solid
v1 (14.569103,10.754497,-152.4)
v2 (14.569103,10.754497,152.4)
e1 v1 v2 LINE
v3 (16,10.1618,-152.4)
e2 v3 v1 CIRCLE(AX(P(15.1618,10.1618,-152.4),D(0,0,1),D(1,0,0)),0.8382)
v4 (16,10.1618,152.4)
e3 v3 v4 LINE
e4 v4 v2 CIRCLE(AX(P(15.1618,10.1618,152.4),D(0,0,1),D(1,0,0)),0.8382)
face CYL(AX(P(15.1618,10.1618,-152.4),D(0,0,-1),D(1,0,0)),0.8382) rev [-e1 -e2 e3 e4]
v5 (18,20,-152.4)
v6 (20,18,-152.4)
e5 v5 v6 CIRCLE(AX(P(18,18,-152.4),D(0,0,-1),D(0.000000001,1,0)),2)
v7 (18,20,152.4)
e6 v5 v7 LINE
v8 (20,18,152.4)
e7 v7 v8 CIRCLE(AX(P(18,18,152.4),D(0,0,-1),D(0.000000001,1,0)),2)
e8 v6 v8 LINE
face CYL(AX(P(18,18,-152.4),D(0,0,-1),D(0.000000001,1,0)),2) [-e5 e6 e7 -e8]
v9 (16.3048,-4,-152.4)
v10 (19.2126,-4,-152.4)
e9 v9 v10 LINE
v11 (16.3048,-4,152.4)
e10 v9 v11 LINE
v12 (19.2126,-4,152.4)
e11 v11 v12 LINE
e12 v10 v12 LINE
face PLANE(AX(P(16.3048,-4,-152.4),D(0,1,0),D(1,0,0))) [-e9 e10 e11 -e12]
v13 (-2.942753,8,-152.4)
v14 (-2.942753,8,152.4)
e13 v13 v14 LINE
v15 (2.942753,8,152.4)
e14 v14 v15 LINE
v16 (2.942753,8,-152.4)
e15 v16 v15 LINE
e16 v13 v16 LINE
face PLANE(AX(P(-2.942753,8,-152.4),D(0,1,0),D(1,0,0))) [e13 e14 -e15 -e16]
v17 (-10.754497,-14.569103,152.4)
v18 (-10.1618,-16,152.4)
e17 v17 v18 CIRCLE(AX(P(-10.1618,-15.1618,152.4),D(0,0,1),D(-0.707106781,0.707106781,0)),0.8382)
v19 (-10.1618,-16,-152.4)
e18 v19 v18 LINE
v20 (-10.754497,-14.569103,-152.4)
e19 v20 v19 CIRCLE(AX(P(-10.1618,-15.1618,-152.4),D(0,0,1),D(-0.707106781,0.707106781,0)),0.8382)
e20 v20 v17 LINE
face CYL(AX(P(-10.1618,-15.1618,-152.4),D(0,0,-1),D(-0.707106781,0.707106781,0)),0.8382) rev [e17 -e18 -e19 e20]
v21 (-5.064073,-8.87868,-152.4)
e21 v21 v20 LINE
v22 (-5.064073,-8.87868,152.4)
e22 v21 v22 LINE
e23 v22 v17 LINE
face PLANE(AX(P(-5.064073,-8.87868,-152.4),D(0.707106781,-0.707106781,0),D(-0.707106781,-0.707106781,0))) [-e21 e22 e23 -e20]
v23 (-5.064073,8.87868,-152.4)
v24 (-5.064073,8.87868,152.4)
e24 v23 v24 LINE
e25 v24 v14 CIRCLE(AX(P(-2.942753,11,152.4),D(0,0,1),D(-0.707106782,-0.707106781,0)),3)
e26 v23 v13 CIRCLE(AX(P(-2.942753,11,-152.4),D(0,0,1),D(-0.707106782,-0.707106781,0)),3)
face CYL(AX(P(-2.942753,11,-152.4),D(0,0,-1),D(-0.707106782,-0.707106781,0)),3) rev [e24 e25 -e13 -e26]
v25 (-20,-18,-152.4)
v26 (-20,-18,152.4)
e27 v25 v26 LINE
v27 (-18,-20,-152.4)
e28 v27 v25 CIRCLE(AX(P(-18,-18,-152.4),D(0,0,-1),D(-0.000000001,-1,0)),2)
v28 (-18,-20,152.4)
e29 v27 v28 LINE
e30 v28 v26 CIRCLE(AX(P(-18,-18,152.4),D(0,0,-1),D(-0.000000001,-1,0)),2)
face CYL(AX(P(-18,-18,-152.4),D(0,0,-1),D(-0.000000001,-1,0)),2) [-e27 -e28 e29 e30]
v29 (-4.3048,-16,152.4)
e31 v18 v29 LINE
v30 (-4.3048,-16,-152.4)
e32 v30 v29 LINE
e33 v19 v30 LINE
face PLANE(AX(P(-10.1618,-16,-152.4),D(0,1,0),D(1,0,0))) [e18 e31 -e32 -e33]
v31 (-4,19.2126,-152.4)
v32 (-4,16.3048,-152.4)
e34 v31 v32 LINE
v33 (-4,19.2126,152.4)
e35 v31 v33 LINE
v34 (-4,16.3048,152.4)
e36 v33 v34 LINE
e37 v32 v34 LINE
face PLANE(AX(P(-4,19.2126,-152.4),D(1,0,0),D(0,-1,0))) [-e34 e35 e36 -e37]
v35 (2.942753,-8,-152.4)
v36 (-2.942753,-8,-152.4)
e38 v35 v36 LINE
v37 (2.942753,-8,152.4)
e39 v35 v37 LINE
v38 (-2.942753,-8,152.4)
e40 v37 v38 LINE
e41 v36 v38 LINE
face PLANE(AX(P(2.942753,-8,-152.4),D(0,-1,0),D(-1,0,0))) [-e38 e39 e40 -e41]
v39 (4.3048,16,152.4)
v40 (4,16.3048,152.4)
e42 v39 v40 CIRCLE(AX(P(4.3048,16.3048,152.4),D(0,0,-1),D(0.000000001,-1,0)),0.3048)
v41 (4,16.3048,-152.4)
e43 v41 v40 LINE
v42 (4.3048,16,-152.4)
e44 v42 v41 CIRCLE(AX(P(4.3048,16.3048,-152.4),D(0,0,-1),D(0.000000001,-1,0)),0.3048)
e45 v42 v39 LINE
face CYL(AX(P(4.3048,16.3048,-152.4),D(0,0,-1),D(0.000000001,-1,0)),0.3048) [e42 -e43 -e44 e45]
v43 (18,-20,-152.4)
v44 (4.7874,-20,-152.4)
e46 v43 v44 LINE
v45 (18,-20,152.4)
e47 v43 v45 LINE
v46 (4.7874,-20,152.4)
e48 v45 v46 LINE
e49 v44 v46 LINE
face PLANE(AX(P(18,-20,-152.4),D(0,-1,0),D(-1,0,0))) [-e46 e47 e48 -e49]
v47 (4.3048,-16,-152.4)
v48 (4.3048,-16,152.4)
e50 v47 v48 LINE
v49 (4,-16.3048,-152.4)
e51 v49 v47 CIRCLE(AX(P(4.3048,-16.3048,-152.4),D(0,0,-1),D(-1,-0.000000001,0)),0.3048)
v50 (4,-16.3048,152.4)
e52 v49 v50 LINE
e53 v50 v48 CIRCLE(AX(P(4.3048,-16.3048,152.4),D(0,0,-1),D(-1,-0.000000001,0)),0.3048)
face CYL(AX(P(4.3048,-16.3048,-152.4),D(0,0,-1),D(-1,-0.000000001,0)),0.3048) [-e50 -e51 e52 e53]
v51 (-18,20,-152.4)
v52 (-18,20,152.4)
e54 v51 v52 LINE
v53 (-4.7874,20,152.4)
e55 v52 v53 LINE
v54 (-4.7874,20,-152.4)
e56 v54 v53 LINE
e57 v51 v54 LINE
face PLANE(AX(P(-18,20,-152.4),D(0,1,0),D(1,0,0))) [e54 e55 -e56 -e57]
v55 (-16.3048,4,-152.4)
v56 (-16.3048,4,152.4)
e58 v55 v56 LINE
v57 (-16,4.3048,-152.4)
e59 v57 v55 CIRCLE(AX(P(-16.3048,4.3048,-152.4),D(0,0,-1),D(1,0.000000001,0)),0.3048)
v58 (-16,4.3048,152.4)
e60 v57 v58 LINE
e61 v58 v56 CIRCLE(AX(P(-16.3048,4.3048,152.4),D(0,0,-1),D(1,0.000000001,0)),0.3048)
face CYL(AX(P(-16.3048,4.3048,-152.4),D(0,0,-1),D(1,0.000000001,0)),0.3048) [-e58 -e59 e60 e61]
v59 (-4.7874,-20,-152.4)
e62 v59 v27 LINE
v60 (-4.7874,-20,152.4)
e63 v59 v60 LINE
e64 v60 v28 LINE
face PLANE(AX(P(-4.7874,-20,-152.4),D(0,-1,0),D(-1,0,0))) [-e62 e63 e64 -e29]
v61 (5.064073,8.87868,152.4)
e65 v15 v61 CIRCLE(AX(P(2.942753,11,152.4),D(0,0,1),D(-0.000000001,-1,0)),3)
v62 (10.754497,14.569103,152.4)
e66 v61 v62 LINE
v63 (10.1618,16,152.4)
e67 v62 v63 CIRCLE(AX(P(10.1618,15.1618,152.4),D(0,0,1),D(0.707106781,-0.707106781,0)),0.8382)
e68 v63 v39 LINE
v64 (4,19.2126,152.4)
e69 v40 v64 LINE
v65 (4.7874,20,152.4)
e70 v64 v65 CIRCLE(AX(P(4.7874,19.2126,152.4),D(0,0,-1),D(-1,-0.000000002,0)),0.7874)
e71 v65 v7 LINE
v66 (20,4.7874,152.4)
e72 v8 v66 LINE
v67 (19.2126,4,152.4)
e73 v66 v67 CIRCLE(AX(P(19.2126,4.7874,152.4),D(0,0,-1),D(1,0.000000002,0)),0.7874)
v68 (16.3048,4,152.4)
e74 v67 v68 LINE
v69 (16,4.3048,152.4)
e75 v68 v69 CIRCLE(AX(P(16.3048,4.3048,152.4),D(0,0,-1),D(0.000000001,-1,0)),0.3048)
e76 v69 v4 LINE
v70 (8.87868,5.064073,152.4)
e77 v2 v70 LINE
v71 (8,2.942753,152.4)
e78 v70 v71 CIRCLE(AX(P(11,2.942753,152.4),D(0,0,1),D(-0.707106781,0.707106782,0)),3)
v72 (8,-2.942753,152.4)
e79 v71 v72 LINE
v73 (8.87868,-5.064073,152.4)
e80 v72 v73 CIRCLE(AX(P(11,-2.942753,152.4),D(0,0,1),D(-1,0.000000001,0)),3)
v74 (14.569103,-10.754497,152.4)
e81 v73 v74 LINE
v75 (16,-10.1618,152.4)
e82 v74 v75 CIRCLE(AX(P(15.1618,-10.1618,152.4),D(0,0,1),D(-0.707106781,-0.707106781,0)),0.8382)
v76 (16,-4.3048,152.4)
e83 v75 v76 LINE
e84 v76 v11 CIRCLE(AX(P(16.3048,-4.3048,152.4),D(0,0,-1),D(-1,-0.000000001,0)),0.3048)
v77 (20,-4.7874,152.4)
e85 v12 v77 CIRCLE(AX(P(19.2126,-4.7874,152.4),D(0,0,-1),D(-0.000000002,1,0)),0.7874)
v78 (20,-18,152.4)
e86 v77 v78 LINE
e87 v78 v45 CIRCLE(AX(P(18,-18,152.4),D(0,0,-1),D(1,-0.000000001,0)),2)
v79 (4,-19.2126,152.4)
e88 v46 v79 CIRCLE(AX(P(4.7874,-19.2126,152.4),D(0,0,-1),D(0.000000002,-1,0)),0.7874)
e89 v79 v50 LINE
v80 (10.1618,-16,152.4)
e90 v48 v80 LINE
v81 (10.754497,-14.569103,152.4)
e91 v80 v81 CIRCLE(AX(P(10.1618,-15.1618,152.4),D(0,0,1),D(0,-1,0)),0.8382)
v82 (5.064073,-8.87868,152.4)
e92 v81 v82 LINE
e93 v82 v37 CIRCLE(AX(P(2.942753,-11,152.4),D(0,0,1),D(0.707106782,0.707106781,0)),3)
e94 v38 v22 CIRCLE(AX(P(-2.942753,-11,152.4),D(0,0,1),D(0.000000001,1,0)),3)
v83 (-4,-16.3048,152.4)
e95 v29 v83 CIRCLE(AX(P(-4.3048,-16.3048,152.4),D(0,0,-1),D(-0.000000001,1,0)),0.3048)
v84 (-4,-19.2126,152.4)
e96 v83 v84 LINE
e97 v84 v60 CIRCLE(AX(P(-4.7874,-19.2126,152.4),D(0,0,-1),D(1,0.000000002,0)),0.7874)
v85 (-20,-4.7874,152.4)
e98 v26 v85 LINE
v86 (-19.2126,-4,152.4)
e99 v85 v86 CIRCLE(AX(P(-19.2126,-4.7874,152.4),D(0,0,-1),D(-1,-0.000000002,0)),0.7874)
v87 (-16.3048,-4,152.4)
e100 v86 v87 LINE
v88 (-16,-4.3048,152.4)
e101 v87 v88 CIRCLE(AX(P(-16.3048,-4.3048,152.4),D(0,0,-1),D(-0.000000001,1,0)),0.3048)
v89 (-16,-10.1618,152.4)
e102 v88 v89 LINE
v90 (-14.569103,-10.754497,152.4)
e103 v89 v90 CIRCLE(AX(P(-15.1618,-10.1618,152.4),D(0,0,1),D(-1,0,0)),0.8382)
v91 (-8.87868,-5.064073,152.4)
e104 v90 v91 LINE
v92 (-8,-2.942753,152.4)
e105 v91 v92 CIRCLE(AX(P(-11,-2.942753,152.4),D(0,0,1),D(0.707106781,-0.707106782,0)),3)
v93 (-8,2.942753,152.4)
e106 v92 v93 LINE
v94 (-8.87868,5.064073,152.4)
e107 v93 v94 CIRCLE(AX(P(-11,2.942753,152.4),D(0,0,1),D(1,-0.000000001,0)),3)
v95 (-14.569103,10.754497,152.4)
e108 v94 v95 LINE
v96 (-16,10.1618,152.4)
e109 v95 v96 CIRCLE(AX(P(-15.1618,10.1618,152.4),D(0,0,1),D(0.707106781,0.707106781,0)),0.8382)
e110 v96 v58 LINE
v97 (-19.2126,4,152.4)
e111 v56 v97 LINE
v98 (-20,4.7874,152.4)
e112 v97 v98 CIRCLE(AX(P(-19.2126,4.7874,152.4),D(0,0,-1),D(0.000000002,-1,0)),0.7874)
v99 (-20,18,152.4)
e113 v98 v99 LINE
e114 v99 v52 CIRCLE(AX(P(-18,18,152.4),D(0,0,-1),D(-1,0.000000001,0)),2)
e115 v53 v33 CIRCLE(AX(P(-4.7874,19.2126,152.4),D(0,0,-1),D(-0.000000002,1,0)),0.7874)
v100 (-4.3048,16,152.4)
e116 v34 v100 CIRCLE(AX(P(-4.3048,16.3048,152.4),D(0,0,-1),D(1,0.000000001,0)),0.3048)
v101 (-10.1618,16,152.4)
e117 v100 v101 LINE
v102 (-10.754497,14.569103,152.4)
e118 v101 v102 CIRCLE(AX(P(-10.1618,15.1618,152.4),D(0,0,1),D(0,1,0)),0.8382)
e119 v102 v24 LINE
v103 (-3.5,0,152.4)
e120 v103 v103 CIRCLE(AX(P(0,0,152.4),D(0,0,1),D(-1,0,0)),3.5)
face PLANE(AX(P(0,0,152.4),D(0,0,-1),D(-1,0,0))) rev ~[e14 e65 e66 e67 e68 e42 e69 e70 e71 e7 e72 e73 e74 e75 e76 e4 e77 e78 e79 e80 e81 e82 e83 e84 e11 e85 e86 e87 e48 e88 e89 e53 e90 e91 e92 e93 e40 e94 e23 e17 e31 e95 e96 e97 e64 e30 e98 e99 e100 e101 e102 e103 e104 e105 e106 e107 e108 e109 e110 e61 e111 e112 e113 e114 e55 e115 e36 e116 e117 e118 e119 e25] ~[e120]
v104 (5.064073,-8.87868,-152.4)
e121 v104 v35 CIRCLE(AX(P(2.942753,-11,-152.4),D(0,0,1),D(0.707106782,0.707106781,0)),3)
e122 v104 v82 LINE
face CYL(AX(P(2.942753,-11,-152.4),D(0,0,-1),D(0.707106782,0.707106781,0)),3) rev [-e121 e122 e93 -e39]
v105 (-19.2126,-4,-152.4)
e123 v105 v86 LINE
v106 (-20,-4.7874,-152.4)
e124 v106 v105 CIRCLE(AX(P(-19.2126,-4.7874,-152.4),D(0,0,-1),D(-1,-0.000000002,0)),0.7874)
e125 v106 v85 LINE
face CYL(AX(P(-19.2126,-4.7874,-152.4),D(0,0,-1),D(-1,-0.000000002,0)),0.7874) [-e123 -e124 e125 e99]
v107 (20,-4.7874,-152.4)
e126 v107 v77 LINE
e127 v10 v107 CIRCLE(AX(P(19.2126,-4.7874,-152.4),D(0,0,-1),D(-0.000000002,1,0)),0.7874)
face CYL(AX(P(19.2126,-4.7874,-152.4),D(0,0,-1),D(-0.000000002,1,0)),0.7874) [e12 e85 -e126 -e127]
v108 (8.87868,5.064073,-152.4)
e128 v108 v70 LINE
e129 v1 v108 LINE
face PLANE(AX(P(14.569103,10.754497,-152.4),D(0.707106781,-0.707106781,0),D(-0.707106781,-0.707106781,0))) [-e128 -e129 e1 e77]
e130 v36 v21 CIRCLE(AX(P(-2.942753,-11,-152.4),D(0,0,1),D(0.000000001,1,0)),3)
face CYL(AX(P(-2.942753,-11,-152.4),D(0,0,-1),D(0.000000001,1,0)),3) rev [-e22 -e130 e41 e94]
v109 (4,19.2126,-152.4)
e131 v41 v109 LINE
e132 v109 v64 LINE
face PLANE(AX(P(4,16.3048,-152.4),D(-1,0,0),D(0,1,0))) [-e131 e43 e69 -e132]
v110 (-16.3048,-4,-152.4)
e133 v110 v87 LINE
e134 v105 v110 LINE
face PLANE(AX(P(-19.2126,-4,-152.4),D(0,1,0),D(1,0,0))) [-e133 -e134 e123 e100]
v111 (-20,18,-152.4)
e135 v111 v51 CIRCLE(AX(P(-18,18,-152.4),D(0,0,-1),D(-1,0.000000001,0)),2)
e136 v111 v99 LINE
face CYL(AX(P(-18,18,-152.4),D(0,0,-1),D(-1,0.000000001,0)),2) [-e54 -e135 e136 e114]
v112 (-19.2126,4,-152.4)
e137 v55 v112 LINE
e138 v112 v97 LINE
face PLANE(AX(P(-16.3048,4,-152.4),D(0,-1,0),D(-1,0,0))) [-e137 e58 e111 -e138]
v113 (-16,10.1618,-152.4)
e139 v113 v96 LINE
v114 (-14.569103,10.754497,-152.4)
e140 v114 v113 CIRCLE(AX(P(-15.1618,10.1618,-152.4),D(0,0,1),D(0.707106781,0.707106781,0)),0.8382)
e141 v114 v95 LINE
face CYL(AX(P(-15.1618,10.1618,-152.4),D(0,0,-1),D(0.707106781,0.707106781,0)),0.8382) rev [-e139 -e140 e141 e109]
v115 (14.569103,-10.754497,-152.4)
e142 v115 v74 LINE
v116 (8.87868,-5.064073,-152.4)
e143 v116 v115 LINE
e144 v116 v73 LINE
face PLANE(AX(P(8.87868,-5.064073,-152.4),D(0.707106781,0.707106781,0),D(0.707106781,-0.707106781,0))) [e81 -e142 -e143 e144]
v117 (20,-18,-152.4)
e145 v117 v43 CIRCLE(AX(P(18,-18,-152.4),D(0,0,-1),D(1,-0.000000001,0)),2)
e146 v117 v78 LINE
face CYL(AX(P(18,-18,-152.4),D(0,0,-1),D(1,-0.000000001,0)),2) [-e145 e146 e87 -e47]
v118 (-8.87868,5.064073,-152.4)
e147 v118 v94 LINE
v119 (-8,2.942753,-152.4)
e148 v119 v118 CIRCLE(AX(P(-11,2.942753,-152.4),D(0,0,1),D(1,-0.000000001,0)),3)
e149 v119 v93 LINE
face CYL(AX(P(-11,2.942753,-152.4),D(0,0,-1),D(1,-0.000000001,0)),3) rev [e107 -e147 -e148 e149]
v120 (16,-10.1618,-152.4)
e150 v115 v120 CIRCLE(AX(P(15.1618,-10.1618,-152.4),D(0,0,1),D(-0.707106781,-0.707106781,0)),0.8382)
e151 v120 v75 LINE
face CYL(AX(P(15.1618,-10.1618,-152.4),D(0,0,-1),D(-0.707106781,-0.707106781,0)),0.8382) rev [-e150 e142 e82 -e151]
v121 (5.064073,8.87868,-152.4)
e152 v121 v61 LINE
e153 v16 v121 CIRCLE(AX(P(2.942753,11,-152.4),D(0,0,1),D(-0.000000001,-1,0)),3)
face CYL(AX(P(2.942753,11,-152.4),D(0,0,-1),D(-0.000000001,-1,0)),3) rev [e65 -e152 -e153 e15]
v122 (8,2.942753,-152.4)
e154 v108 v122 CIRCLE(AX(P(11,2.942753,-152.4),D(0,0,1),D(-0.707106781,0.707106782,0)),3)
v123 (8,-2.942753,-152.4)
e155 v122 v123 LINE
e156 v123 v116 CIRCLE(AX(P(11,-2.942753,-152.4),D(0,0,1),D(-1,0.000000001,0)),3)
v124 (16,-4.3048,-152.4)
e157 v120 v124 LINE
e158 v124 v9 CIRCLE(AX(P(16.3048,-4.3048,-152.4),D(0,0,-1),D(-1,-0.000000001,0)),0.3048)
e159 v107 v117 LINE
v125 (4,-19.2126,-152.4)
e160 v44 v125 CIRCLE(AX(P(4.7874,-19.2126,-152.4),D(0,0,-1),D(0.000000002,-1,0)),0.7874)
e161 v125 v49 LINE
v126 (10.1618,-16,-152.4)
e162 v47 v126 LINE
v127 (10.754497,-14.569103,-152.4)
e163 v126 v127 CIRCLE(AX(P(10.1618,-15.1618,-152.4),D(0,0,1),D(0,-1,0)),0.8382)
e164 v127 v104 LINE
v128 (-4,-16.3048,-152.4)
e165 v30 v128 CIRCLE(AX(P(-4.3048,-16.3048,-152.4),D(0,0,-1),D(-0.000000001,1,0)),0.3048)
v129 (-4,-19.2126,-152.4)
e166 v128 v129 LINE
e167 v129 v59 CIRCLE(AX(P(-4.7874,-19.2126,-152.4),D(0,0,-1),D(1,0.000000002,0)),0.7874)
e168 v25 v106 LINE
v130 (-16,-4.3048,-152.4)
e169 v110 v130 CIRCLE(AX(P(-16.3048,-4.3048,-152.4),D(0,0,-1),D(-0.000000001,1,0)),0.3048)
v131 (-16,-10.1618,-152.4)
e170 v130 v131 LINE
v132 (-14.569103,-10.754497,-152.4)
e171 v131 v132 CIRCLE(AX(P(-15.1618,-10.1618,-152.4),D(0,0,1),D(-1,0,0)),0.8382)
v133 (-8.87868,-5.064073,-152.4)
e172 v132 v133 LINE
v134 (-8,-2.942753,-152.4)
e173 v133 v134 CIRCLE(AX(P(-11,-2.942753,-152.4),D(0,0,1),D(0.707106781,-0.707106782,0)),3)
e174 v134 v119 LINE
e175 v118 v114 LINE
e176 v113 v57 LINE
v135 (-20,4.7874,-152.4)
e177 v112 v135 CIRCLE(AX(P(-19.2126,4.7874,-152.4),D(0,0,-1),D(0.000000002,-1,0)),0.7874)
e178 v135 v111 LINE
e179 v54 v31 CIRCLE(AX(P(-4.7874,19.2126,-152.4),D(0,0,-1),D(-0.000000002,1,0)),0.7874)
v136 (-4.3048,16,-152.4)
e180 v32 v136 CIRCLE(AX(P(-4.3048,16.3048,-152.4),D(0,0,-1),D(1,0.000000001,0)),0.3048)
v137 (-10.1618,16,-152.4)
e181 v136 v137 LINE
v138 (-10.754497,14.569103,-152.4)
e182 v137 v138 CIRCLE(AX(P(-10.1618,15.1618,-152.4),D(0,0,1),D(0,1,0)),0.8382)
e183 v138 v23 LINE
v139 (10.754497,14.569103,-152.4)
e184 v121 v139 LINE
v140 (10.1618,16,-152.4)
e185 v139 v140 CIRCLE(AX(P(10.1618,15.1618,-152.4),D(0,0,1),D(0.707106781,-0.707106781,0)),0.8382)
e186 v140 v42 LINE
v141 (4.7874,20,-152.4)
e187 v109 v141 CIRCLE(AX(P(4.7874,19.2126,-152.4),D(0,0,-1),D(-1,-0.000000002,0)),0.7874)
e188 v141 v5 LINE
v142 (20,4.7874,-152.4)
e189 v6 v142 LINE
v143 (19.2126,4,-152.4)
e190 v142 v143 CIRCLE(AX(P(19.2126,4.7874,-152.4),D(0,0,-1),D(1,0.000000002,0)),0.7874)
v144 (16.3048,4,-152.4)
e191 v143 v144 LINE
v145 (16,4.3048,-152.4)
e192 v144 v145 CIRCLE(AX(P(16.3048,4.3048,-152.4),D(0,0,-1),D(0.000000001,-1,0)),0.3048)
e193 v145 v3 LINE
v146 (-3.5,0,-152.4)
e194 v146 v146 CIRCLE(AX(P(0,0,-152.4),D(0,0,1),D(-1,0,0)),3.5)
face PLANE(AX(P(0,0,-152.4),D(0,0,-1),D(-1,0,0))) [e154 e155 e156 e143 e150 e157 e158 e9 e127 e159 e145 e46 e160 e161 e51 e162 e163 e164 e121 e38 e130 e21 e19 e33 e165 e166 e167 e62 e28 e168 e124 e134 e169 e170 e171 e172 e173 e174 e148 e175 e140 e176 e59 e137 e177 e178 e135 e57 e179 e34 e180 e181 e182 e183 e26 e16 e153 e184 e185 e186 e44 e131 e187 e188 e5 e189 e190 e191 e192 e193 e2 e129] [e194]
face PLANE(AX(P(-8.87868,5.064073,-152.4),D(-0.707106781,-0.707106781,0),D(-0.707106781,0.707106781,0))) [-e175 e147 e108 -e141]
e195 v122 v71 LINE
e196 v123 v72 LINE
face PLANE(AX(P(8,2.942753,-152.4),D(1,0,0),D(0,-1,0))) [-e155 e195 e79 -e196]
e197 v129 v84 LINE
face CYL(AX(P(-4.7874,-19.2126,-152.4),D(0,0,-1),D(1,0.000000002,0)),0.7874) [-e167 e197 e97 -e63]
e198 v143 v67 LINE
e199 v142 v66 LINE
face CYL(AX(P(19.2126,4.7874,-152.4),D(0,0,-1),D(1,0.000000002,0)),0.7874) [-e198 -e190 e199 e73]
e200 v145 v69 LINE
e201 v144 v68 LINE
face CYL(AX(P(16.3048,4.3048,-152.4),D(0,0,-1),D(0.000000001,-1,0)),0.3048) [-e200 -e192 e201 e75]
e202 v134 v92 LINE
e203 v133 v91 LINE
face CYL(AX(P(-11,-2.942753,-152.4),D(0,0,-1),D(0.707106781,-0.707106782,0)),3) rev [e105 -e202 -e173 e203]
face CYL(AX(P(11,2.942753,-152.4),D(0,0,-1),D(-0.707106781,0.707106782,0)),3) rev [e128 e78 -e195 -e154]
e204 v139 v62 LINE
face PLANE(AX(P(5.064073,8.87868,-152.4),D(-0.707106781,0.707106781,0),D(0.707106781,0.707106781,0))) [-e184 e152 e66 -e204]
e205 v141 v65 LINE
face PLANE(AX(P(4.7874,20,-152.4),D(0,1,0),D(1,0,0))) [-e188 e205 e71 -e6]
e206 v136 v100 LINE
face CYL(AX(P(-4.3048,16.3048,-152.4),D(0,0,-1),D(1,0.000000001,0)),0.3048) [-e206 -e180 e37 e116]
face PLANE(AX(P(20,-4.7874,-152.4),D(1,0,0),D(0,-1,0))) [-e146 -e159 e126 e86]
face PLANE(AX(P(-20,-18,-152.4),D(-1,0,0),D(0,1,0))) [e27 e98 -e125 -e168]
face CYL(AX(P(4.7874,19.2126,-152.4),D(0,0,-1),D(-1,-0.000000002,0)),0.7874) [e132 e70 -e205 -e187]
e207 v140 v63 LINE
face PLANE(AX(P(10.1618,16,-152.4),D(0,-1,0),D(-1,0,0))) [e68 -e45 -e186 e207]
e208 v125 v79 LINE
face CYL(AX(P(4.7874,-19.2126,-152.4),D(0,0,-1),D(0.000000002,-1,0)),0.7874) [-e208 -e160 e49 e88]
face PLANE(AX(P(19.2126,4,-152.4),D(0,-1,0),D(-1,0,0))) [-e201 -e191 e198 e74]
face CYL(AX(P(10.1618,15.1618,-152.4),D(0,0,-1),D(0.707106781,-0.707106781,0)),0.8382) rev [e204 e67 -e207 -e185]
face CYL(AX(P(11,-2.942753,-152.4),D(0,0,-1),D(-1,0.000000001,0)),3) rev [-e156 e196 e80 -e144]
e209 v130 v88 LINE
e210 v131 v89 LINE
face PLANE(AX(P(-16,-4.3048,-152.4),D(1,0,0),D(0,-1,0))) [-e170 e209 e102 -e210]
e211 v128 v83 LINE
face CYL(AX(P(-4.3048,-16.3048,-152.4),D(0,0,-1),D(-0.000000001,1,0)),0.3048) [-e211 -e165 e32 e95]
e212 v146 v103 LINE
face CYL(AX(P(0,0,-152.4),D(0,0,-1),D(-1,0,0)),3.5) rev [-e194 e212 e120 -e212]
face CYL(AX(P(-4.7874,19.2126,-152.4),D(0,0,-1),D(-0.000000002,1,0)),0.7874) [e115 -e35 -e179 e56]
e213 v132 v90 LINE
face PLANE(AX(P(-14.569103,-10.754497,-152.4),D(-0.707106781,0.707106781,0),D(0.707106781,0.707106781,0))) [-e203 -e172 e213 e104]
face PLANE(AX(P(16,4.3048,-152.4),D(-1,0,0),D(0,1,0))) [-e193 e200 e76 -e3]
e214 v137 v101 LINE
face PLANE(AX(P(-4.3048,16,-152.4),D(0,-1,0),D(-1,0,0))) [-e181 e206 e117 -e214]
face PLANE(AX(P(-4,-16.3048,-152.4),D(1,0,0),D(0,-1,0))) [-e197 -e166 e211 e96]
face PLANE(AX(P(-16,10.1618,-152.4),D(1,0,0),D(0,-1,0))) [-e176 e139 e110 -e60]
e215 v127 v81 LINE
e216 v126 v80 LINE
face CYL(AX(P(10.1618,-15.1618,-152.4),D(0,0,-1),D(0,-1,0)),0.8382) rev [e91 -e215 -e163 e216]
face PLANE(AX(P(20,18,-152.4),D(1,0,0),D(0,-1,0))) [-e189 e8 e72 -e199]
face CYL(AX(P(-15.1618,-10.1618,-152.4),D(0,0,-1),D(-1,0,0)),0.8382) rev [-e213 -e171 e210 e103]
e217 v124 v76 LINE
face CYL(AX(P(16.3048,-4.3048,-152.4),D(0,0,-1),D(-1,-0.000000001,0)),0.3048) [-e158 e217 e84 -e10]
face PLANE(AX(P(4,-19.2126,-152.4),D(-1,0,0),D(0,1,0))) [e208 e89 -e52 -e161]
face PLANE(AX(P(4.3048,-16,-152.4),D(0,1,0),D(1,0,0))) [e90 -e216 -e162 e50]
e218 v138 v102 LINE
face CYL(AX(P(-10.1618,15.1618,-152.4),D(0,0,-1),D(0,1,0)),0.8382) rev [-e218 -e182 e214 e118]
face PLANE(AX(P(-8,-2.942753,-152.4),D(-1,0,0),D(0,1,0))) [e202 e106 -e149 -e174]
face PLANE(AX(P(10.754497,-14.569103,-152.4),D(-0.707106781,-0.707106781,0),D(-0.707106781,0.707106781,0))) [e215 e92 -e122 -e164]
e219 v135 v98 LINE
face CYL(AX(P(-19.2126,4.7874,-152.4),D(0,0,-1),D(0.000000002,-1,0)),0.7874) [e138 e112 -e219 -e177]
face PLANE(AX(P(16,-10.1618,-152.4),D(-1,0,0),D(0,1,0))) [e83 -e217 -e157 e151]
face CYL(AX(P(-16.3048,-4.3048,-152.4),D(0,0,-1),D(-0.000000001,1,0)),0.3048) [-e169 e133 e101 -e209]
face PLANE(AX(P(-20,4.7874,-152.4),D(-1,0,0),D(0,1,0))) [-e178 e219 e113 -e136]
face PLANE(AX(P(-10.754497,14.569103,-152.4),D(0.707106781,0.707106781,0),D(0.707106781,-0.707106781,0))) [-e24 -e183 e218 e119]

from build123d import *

# Parameters (mm, degrees)
BOSS_EXTRUDE1_DEPTH      = 152.4
BOSS_EXTRUDE1_DEPTH_BACK = 152.4
SKETCH3_R                = 3.5


with BuildPart() as part:
    # Sketch3 → Boss-Extrude1 (new, two sides: drawn at the far end of the back side and taken through both)
    with BuildSketch(Plane.XY.offset(-BOSS_EXTRUDE1_DEPTH_BACK)):
        with BuildLine():
            Line((4.7874, 20), (18, 20))
            ThreePointArc((18, 20), (19.414213562, 19.414213562), (20, 18))
            Line((20, 18), (20, 4.7874))
            ThreePointArc((20, 4.7874), (19.76937588, 4.23062412), (19.2126, 4))
            Line((19.2126, 4), (16.3048, 4))
            ThreePointArc((16.3048, 4), (16.089273853, 4.089273853), (16, 4.3048))
            Line((16, 4.3048), (16, 10.1618))
            ThreePointArc((16, 10.1618), (15.482565253, 10.936195824), (14.569103096, 10.754496904))
            Line((14.569103096, 10.754496904), (8.878679656, 5.064073464))
            ThreePointArc((8.878679656, 5.064073464), (8.228361402, 4.090803418), (8, 2.942753121))
            Line((8, 2.942753121), (8, -2.942753121))
            ThreePointArc((8, -2.942753121), (8.228361402, -4.090803418), (8.878679656, -5.064073464))
            Line((8.878679656, -5.064073464), (14.569103096, -10.754496904))
            ThreePointArc((14.569103096, -10.754496904), (15.482565253, -10.936195824), (16, -10.1618))
            Line((16, -10.1618), (16, -4.3048))
            ThreePointArc((16, -4.3048), (16.089273853, -4.089273853), (16.3048, -4))
            Line((16.3048, -4), (19.2126, -4))
            ThreePointArc((19.2126, -4), (19.76937588, -4.23062412), (20, -4.7874))
            Line((20, -4.7874), (20, -18))
            ThreePointArc((20, -18), (19.414213562, -19.414213562), (18, -20))
            Line((18, -20), (4.7874, -20))
            ThreePointArc((4.7874, -20), (4.23062412, -19.76937588), (4, -19.2126))
            Line((4, -19.2126), (4, -16.3048))
            ThreePointArc((4, -16.3048), (4.089273853, -16.089273853), (4.3048, -16))
            Line((4.3048, -16), (10.1618, -16))
            ThreePointArc((10.1618, -16), (10.936195824, -15.482565253), (10.754496904, -14.569103096))
            Line((10.754496904, -14.569103096), (5.064073464, -8.878679656))
            ThreePointArc((5.064073464, -8.878679656), (4.090803418, -8.228361402), (2.942753121, -8))
            Line((2.942753121, -8), (-2.942753121, -8))
            ThreePointArc((-2.942753121, -8), (-4.090803418, -8.228361402), (-5.064073464, -8.878679656))
            Line((-5.064073464, -8.878679656), (-10.754496904, -14.569103096))
            ThreePointArc((-10.754496904, -14.569103096), (-10.936195824, -15.482565253), (-10.1618, -16))
            Line((-10.1618, -16), (-4.3048, -16))
            ThreePointArc((-4.3048, -16), (-4.089273853, -16.089273853), (-4, -16.3048))
            Line((-4, -16.3048), (-4, -19.2126))
            ThreePointArc((-4, -19.2126), (-4.23062412, -19.76937588), (-4.7874, -20))
            Line((-4.7874, -20), (-18, -20))
            ThreePointArc((-18, -20), (-19.414213562, -19.414213562), (-20, -18))
            Line((-20, -18), (-20, -4.7874))
            ThreePointArc((-20, -4.7874), (-19.76937588, -4.23062412), (-19.2126, -4))
            Line((-19.2126, -4), (-16.3048, -4))
            ThreePointArc((-16.3048, -4), (-16.089273853, -4.089273853), (-16, -4.3048))
            Line((-16, -4.3048), (-16, -10.1618))
            ThreePointArc((-16, -10.1618), (-15.482565253, -10.936195824), (-14.569103096, -10.754496904))
            Line((-14.569103096, -10.754496904), (-8.878679656, -5.064073464))
            ThreePointArc((-8.878679656, -5.064073464), (-8.228361402, -4.090803418), (-8, -2.942753121))
            Line((-8, -2.942753121), (-8, 2.942753121))
            ThreePointArc((-8, 2.942753121), (-8.228361402, 4.090803418), (-8.878679656, 5.064073464))
            Line((-8.878679656, 5.064073464), (-14.569103096, 10.754496904))
            ThreePointArc((-14.569103096, 10.754496904), (-15.482565253, 10.936195824), (-16, 10.1618))
            Line((-16, 10.1618), (-16, 4.3048))
            ThreePointArc((-16, 4.3048), (-16.089273853, 4.089273853), (-16.3048, 4))
            Line((-16.3048, 4), (-19.2126, 4))
            ThreePointArc((-19.2126, 4), (-19.76937588, 4.23062412), (-20, 4.7874))
            Line((-20, 4.7874), (-20, 18))
            ThreePointArc((-20, 18), (-19.414213562, 19.414213562), (-18, 20))
            Line((-18, 20), (-4.7874, 20))
            ThreePointArc((-4.7874, 20), (-4.23062412, 19.76937588), (-4, 19.2126))
            Line((-4, 19.2126), (-4, 16.3048))
            ThreePointArc((-4, 16.3048), (-4.089273853, 16.089273853), (-4.3048, 16))
            Line((-4.3048, 16), (-10.1618, 16))
            ThreePointArc((-10.1618, 16), (-10.936195824, 15.482565253), (-10.754496904, 14.569103096))
            Line((-10.754496904, 14.569103096), (-5.064073464, 8.878679656))
            ThreePointArc((-5.064073464, 8.878679656), (-4.090803418, 8.228361402), (-2.942753121, 8))
            Line((-2.942753121, 8), (2.942753121, 8))
            ThreePointArc((2.942753121, 8), (4.090803418, 8.228361402), (5.064073464, 8.878679656))
            Line((5.064073464, 8.878679656), (10.754496904, 14.569103096))
            ThreePointArc((10.754496904, 14.569103096), (10.936195824, 15.482565253), (10.1618, 16))
            Line((10.1618, 16), (4.3048, 16))
            ThreePointArc((4.3048, 16), (4.089273853, 16.089273853), (4, 16.3048))
            Line((4, 16.3048), (4, 19.2126))
            ThreePointArc((4, 19.2126), (4.23062412, 19.76937588), (4.7874, 20))
        make_face()
        with Locations(Location((0, 0, 0), (0, 0, 180))):
            Circle(SKETCH3_R, mode=Mode.SUBTRACT)
    extrude(amount=BOSS_EXTRUDE1_DEPTH + BOSS_EXTRUDE1_DEPTH_BACK)


solid = part.part
